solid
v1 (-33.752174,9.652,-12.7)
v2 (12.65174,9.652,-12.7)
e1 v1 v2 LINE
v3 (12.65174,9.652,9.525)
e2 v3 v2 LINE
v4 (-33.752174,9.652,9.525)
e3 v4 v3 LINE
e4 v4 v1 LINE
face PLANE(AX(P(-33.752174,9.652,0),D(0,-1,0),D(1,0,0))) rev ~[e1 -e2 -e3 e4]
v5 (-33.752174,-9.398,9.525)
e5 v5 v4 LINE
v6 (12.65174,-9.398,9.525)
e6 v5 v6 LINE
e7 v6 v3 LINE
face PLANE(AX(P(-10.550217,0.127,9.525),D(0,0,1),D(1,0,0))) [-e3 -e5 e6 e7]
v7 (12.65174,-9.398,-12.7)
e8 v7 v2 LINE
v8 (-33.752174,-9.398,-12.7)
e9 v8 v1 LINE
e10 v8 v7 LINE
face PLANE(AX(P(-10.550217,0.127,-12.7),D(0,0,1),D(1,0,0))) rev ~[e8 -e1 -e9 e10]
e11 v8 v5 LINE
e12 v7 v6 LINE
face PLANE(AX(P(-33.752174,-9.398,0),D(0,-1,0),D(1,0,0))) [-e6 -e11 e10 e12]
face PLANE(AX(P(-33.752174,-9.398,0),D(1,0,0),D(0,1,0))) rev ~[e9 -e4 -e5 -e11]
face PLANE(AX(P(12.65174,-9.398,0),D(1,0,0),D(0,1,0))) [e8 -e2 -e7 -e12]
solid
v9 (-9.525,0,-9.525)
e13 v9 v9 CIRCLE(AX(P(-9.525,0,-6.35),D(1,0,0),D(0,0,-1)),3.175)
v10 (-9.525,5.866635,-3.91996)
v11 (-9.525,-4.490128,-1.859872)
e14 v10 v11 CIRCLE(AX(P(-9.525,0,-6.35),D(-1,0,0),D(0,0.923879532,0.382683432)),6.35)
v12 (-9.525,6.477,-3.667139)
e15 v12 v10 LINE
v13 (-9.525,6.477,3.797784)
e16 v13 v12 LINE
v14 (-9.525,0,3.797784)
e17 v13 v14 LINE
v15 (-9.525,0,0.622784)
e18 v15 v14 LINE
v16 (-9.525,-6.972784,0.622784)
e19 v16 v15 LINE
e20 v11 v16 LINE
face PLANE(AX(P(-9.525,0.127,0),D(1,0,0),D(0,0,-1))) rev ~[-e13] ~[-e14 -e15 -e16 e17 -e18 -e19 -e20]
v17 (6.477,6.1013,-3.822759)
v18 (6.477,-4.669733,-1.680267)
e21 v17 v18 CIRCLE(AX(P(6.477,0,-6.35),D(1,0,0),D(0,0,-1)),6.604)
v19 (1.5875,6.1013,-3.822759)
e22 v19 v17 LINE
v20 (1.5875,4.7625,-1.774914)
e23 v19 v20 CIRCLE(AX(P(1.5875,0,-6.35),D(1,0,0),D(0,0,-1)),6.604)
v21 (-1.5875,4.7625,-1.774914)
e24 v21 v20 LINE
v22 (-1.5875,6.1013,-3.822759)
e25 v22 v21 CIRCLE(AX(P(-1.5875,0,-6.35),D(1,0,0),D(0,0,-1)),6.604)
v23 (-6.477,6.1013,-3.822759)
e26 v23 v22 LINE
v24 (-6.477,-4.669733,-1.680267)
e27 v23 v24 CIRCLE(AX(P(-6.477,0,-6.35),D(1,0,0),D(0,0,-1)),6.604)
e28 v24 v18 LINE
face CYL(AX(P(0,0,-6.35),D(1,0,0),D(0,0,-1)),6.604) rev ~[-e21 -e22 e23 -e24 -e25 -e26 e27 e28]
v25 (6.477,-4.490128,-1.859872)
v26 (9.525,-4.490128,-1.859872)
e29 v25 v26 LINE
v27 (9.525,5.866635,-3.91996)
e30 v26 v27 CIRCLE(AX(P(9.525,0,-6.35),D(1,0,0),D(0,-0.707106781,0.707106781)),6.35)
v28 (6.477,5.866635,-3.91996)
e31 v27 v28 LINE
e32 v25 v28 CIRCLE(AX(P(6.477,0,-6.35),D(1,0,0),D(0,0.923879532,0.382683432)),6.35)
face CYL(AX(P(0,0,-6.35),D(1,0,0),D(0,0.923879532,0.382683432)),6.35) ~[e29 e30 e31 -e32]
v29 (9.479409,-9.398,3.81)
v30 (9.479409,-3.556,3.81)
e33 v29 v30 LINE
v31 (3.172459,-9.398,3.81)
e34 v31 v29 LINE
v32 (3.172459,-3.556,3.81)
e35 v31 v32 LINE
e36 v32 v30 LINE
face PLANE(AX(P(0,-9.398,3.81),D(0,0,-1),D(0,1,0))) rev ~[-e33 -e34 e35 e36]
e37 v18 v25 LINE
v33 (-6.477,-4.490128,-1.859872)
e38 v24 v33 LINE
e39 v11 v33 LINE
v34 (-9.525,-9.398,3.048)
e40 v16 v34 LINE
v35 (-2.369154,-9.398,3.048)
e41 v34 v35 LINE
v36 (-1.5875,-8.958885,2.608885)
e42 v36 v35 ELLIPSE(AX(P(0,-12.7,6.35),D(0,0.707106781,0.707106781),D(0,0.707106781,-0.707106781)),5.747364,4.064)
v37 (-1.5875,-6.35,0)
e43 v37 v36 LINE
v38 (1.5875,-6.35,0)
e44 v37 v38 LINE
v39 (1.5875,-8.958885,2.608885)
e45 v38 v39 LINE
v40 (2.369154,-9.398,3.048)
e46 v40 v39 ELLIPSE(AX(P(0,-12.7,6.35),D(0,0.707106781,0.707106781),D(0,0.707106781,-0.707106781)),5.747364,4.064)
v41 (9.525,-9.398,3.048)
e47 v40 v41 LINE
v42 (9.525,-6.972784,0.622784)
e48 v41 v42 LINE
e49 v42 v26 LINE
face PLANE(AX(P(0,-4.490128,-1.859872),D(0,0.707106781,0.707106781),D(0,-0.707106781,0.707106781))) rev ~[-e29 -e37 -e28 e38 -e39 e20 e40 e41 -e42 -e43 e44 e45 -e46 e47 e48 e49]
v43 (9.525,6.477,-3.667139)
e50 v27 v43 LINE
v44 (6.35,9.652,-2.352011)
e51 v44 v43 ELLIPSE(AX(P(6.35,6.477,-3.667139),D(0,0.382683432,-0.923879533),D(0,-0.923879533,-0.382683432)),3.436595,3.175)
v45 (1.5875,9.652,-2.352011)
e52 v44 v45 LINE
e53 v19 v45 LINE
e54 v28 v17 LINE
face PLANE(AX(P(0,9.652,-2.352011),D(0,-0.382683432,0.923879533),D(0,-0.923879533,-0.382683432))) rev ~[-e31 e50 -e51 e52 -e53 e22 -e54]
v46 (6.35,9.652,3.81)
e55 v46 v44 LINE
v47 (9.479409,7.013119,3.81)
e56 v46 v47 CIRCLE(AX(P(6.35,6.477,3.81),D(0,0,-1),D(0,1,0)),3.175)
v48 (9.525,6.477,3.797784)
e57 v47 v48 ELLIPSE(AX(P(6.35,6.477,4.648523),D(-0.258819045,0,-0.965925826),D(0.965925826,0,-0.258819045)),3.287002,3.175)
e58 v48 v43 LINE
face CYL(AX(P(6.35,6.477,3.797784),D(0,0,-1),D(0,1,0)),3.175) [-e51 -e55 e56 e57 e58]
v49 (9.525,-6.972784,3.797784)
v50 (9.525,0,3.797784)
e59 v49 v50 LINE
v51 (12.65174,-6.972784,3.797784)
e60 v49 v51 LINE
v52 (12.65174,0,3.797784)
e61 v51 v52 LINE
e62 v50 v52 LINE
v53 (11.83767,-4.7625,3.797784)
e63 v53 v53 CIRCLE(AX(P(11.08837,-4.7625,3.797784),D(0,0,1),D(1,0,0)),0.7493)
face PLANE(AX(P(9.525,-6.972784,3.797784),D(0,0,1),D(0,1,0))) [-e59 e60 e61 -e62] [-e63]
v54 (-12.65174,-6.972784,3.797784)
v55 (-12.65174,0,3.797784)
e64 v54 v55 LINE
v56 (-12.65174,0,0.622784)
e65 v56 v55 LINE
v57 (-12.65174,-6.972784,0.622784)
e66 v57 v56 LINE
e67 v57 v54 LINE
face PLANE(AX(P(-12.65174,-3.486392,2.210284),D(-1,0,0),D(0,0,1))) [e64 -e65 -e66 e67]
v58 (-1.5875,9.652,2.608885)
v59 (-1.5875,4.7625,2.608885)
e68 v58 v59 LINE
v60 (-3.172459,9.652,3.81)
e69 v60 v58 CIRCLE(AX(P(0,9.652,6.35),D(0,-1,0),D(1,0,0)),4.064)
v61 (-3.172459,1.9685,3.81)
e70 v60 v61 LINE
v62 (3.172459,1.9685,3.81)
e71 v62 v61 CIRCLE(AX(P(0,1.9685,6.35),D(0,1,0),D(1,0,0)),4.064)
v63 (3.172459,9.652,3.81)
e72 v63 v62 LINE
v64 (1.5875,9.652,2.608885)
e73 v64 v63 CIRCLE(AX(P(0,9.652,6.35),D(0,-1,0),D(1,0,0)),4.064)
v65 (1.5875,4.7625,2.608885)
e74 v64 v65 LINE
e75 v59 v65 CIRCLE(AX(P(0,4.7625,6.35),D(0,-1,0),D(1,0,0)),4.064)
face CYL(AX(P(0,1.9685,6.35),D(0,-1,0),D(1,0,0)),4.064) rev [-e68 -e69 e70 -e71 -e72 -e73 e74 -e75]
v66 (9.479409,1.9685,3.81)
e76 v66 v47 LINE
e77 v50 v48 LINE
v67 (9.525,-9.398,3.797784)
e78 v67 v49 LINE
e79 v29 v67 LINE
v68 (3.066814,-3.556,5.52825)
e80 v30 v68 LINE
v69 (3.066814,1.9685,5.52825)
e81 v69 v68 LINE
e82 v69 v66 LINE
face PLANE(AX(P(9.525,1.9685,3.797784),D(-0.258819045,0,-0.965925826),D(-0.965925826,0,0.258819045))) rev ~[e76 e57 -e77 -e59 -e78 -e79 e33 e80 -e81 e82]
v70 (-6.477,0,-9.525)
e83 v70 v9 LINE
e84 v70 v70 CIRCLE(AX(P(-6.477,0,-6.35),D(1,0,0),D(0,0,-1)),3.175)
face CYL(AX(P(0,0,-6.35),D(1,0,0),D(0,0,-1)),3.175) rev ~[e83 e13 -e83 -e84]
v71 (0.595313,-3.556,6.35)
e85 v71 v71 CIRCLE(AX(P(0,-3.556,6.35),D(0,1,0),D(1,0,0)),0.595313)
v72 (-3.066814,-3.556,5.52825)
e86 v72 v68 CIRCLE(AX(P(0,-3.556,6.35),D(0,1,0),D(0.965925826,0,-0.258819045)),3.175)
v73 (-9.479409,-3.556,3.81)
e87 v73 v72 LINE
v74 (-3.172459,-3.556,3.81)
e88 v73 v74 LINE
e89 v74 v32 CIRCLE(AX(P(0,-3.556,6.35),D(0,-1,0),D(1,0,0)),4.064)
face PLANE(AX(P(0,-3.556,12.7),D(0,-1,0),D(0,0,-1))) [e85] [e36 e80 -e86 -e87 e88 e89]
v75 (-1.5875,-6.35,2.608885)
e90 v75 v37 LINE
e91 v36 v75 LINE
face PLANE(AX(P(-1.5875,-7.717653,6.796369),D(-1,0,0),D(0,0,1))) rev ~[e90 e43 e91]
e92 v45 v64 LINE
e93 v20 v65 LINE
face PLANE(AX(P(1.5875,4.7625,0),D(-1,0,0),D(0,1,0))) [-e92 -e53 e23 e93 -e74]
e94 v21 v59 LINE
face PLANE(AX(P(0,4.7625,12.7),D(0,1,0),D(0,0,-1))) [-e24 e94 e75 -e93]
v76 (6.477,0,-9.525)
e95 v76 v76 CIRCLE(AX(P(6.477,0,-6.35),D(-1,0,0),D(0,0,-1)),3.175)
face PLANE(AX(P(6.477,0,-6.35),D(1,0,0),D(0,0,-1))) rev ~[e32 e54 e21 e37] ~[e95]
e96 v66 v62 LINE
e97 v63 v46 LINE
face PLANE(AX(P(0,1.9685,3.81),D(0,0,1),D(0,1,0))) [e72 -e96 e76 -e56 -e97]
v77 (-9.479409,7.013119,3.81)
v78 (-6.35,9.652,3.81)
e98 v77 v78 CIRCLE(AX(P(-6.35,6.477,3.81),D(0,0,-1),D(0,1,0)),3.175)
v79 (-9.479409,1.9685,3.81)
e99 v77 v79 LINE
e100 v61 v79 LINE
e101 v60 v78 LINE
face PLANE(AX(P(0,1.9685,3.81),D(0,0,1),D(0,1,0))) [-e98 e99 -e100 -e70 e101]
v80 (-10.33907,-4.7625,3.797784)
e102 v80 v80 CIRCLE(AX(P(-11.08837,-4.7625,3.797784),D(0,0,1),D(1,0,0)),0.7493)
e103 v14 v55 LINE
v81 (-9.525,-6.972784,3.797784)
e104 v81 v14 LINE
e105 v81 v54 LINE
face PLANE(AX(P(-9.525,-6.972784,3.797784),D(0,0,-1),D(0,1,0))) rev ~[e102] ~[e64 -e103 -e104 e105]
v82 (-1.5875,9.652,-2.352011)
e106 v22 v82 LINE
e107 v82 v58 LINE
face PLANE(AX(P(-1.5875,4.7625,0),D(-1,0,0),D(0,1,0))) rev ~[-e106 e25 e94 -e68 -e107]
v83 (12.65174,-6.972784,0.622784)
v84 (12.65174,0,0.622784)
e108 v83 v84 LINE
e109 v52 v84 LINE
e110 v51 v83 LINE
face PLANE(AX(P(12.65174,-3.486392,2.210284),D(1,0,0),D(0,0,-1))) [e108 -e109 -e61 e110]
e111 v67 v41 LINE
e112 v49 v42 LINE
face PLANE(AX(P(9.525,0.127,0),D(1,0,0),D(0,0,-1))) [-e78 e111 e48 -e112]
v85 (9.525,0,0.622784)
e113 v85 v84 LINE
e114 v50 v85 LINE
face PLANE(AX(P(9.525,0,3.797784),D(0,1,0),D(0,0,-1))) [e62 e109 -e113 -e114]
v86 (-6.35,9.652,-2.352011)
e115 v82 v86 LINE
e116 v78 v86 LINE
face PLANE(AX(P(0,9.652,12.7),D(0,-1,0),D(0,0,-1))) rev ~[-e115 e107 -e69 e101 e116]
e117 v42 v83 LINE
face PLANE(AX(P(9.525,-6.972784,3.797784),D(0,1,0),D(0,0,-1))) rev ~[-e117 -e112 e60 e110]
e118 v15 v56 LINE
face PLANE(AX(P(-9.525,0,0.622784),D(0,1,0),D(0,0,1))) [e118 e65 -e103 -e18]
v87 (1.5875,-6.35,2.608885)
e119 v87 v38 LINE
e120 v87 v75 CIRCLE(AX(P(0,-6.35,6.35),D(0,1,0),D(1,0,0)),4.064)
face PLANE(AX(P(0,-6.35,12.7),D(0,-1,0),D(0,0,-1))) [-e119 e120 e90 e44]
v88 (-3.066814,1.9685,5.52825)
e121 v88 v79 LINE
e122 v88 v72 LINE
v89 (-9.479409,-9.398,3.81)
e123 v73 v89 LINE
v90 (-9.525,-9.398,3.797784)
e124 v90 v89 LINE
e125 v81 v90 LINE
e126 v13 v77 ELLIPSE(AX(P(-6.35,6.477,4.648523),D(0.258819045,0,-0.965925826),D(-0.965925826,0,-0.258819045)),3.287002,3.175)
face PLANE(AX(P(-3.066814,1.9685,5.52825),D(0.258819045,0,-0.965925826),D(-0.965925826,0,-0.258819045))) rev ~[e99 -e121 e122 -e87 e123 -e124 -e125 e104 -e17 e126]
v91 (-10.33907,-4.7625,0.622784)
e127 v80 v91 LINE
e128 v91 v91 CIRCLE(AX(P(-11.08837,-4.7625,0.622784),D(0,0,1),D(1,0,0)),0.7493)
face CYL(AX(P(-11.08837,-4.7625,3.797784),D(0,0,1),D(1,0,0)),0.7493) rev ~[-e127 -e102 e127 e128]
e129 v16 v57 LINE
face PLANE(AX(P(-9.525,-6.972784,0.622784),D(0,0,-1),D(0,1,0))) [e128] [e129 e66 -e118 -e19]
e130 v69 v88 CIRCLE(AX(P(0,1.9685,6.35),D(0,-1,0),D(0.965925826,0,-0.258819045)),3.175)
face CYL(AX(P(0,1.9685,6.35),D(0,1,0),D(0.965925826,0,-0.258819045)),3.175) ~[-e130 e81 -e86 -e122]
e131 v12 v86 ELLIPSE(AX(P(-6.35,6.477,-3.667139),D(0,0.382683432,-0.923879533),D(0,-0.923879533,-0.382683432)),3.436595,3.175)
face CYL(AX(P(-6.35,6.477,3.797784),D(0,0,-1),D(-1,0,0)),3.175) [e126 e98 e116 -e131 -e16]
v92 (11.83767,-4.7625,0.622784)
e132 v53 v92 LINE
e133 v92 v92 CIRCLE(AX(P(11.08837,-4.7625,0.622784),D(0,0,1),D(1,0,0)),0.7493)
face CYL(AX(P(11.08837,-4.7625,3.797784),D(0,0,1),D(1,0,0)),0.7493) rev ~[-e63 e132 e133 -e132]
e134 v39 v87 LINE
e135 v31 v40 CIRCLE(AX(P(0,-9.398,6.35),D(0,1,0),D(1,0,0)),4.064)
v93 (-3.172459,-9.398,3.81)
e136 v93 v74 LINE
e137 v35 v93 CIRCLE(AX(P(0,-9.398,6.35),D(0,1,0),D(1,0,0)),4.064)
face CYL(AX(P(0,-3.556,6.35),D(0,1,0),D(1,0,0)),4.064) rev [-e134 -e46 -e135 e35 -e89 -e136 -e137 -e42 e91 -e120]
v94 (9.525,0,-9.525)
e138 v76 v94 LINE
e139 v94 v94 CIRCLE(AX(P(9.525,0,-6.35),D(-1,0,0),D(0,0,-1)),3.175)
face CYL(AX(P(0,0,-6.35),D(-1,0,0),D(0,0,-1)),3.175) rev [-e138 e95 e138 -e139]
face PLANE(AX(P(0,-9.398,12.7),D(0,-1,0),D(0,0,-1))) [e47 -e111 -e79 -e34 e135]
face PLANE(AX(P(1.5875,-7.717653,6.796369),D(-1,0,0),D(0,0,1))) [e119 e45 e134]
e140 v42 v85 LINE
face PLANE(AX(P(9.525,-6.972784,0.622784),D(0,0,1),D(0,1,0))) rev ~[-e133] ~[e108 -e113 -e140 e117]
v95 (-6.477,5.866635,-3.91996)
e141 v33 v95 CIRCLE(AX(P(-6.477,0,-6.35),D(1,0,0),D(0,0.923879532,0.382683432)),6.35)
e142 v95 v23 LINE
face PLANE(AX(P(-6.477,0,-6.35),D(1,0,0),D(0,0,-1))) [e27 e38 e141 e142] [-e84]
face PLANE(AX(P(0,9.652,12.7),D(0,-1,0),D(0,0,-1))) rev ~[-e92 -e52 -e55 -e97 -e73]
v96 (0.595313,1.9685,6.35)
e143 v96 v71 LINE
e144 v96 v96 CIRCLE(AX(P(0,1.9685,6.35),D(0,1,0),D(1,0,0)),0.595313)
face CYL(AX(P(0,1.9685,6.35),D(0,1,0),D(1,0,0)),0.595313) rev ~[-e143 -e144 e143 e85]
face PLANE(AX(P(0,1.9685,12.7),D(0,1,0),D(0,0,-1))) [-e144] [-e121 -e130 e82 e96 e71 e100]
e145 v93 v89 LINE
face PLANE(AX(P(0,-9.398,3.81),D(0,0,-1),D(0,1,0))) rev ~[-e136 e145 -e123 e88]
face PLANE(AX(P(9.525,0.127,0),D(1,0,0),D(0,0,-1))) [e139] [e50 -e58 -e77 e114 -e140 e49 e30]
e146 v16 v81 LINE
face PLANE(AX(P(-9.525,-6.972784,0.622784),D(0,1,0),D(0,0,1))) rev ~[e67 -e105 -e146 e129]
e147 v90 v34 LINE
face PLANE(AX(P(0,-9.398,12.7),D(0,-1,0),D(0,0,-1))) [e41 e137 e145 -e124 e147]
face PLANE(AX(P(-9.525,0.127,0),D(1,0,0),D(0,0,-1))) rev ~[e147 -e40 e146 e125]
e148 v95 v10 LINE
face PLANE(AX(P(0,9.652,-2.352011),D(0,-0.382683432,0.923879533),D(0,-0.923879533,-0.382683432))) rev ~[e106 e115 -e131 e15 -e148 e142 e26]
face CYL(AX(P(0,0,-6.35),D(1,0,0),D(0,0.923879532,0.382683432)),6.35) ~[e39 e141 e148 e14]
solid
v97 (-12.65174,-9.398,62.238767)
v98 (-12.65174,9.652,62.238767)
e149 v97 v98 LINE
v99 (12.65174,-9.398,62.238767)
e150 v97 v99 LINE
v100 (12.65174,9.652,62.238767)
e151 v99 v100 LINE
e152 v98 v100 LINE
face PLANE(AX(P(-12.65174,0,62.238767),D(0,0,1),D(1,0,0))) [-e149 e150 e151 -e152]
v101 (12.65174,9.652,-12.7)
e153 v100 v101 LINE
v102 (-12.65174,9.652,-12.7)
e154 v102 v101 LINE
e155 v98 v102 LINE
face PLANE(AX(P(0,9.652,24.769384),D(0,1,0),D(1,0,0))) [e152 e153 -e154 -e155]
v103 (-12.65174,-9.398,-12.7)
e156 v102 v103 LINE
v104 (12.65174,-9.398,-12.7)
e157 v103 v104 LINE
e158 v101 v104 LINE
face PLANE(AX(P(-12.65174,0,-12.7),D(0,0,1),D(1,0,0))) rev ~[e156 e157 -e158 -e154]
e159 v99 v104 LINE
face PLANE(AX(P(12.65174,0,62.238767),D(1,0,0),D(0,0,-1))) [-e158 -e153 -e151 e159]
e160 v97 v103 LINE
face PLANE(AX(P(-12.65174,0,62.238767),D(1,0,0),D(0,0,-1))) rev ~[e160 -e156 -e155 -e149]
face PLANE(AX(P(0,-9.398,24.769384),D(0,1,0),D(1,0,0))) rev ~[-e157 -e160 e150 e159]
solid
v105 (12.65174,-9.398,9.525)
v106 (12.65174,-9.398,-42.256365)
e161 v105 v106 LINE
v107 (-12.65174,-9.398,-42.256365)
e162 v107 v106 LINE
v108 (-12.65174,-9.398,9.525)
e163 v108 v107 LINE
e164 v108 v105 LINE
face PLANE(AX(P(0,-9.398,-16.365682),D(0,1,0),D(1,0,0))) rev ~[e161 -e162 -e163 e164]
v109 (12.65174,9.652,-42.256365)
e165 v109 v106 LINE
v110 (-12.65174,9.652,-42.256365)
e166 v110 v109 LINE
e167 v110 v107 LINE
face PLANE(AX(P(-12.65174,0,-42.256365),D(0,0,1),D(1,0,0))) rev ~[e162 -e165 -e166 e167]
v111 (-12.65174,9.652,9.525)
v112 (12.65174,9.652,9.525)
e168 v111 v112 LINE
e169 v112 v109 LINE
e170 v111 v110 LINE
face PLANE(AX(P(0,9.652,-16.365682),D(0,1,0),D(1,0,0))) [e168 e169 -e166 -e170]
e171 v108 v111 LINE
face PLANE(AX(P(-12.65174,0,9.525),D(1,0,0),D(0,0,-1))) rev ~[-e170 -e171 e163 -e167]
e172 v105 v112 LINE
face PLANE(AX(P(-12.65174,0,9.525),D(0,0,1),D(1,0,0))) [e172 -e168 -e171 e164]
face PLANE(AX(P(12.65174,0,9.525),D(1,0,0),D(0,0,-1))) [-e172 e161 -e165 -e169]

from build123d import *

# Parameters (mm, degrees)
SKETCH1_W                = 25.4
SKETCH1_H                = 19.05
BOSS_EXTRUDE1_DEPTH      = 9.525
SKETCH2_OUTSIDE_W        = 34.806
SKETCH2_OUTSIDE_H        = 28.456
CUT_EXTRUDE2_DEPTH       = 10.525
CUT_EXTRUDE2_DEPTH_BACK  = 10.525
SKETCH3_R                = 6.604
CUT_EXTRUDE3_DEPTH       = 6.477
SKETCH5_R                = 3.175
CUT_EXTRUDE5_DEPTH       = 10.525
CUT_EXTRUDE5_DEPTH_BACK  = 10.525
SKETCH4_W                = 3.175
SKETCH4_H                = 4.8895
CUT_EXTRUDE4_DEPTH       = 13.7
CUT_EXTRUDE4_DEPTH_BACK  = 13.7
CUT_EXTRUDE6_DEPTH       = 1.5875
SKETCH7_W                = 8.89
SKETCH7_H                = 4.8895
CUT_EXTRUDE7_DEPTH       = 10.525
CUT_EXTRUDE7_DEPTH_BACK  = 10.525
SKETCH8_W                = 8.89
SKETCH8_H                = 2.794
SKETCH8_H_2              = 5.842
CUT_EXTRUDE8_DEPTH       = 10.525
CUT_EXTRUDE8_DEPTH_BACK  = 10.525
CUT_EXTRUDE9_DEPTH       = 8.6835
CUT_EXTRUDE9_DEPTH_BACK  = 12.3665
SKETCH11_R               = 0.5953125
CUT_EXTRUDE11_DEPTH      = 12.3665
FILLET1_R                = 3.175
SKETCH15_R               = 4.064
CUT_EXTRUDE12_DEPTH      = 6.842
SKETCH22_R               = 4.064
CUT_EXTRUDE15_DEPTH      = 8.6835
SKETCH16_W               = 3.175
SKETCH16_H               = 6.972783942
BOSS_EXTRUDE4_DEPTH      = 3.12674
SKETCH18_W               = 3.175
SKETCH18_H               = 6.972783942
BOSS_EXTRUDE5_DEPTH      = 3.12674
SKETCH19_R               = 0.7493
CUT_EXTRUDE13_DEPTH      = 17.497783942
SKETCH20_R               = 0.7493
CUT_EXTRUDE14_DEPTH      = 17.497783942
SKETCH26_W               = 46.403914144
SKETCH26_H               = 19.05
BOSS_EXTRUDE8_DEPTH      = 9.525
BOSS_EXTRUDE8_DEPTH_BACK = 12.7
SKETCH23_W               = 25.30348
SKETCH23_H               = 74.938767094
BOSS_EXTRUDE6_DEPTH      = 9.652
BOSS_EXTRUDE6_DEPTH_BACK = 9.398
SKETCH24_W               = 25.30348
SKETCH24_H               = 51.781364698
BOSS_EXTRUDE7_DEPTH      = 9.652
BOSS_EXTRUDE7_DEPTH_BACK = 9.398


with BuildPart() as part:
    # Sketch1 → Boss-Extrude1 (new body, symmetric)
    with BuildSketch(Plane(origin=(0, 0, 0), x_dir=(0, 0, -1), z_dir=(1, 0, 0))):
        with Locations((0, 0.127)):
            Rectangle(SKETCH1_W, SKETCH1_H)
    extrude(amount=BOSS_EXTRUDE1_DEPTH, both=True)

    # Sketch2 outside → Cut-Extrude2 (cut, two sides)
    with BuildSketch(Plane(origin=(0, 0, 0), x_dir=(0, 0, -1), z_dir=(1, 0, 0))) as cut_extrude2_sk:
        with Locations((0, 0.127)):
            Rectangle(SKETCH2_OUTSIDE_W, SKETCH2_OUTSIDE_H)
        with BuildLine():
            Line((1.859871939, -4.490128061), (-3.048, -9.398))
            Line((-3.048, -9.398), (-12.7, -9.398))
            Line((-12.7, -9.398), (-12.7, 9.652))
            Line((-12.7, 9.652), (2.352010696, 9.652))
            Line((2.352010696, 9.652), (3.919960204, 5.866635031))
            ThreePointArc((3.919960204, 5.866635031), (12.577986531, -1.238823545), (1.859871939, -4.490128061))
        make_face(mode=Mode.SUBTRACT)
    extrude(amount=CUT_EXTRUDE2_DEPTH, mode=Mode.SUBTRACT)
    extrude(cut_extrude2_sk.sketch, amount=-CUT_EXTRUDE2_DEPTH_BACK, mode=Mode.SUBTRACT)

    # Sketch3 → Cut-Extrude3 (cut, symmetric)
    with BuildSketch(Plane(origin=(0, 0, 0), x_dir=(0, 0, -1), z_dir=(1, 0, 0))):
        with Locations((6.35, 0)):
            Circle(SKETCH3_R)
    extrude(amount=CUT_EXTRUDE3_DEPTH, both=True, mode=Mode.SUBTRACT)

    # Sketch5 → Cut-Extrude5 (cut, two sides)
    with BuildSketch(Plane(origin=(0, 0, 0), x_dir=(0, 0, -1), z_dir=(1, 0, 0))) as cut_extrude5_sk:
        with Locations((6.35, 0)):
            Circle(SKETCH5_R)
    extrude(amount=CUT_EXTRUDE5_DEPTH, mode=Mode.SUBTRACT)
    extrude(cut_extrude5_sk.sketch, amount=-CUT_EXTRUDE5_DEPTH_BACK, mode=Mode.SUBTRACT)

    # Sketch4 → Cut-Extrude4 (cut, two sides)
    with BuildSketch(Plane.XY) as cut_extrude4_sk:
        with Locations((0, 7.20725)):
            Rectangle(SKETCH4_W, SKETCH4_H)
    extrude(amount=CUT_EXTRUDE4_DEPTH, mode=Mode.SUBTRACT)
    extrude(cut_extrude4_sk.sketch, amount=-CUT_EXTRUDE4_DEPTH_BACK, mode=Mode.SUBTRACT)

    # Sketch6 → Cut-Extrude6 (cut, symmetric)
    with BuildSketch(Plane(origin=(0, 0, 0), x_dir=(0, 0, -1), z_dir=(1, 0, 0))):
        Polygon((0, -6.35), (-3.048, -9.398), (-12.7, -9.398), (-12.7, -6.35), align=None)
    extrude(amount=CUT_EXTRUDE6_DEPTH, both=True, mode=Mode.SUBTRACT)

    # Sketch7 → Cut-Extrude7 (cut, two sides)
    with BuildSketch(Plane(origin=(0, 0, 0), x_dir=(0, 0, -1), z_dir=(1, 0, 0))) as cut_extrude7_sk:
        with Locations((-8.255, 7.20725)):
            Rectangle(SKETCH7_W, SKETCH7_H)
    extrude(amount=CUT_EXTRUDE7_DEPTH, mode=Mode.SUBTRACT)
    extrude(cut_extrude7_sk.sketch, amount=-CUT_EXTRUDE7_DEPTH_BACK, mode=Mode.SUBTRACT)

    # Sketch8 → Cut-Extrude8 (cut, two sides)
    with BuildSketch(Plane(origin=(0, 0, 0), x_dir=(0, 0, -1), z_dir=(1, 0, 0))) as cut_extrude8_sk:
        with Locations((-8.255, 3.3655)):
            Rectangle(SKETCH8_W, SKETCH8_H)
        with Locations((-8.255, -6.477)):
            Rectangle(SKETCH8_W, SKETCH8_H_2)
    extrude(amount=CUT_EXTRUDE8_DEPTH, mode=Mode.SUBTRACT)
    extrude(cut_extrude8_sk.sketch, amount=-CUT_EXTRUDE8_DEPTH_BACK, mode=Mode.SUBTRACT)

    # Sketch9 → Cut-Extrude9 (cut, two sides)
    with BuildSketch(Plane(origin=(0, 1.9685, 0), x_dir=(1, 0, 0), z_dir=(0, 1, 0))) as cut_extrude9_sk:
        with BuildLine():
            Line((-3.066814498, -5.528249532), (-9.525, -3.797783942))
            Line((-9.525, -3.797783942), (-9.525, -12.7))
            Line((-9.525, -12.7), (9.525, -12.7))
            Line((9.525, -12.7), (9.525, -3.797783942))
            Line((9.525, -3.797783942), (3.066814498, -5.528249532))
            ThreePointArc((3.066814498, -5.528249532), (0, -9.525), (-3.066814498, -5.528249532))
        make_face()
    extrude(amount=CUT_EXTRUDE9_DEPTH, mode=Mode.SUBTRACT)
    extrude(cut_extrude9_sk.sketch, amount=-CUT_EXTRUDE9_DEPTH_BACK, mode=Mode.SUBTRACT)

    # Sketch11 → Cut-Extrude11 (cut, through all)
    with BuildSketch(Plane(origin=(0, 1.9685, 0), x_dir=(1, 0, 0), z_dir=(0, 1, 0))):
        with Locations((0, -6.35)):
            Circle(SKETCH11_R)
    extrude(amount=-CUT_EXTRUDE11_DEPTH, mode=Mode.SUBTRACT)

    # Fillet1
    fillet1_edges = [part.edges().sort_by_distance(p)[0] for p in [
        (9.525, 9.652, 0.722886623),
        (-9.525, 9.652, 0.722886623),
    ]]
    fillet(fillet1_edges, radius=FILLET1_R)

    # Sketch15 → Cut-Extrude12 (cut, through all)
    with BuildSketch(Plane.XZ.offset(3.556)):
        with Locations((0, 6.35)):
            Circle(SKETCH15_R)
    extrude(amount=CUT_EXTRUDE12_DEPTH, mode=Mode.SUBTRACT)

    # Sketch22 → Cut-Extrude15 (cut, through all)
    with BuildSketch(Plane(origin=(0, 1.9685, 0), x_dir=(1, 0, 0), z_dir=(0, 1, 0))):
        with Locations((0, -6.35)):
            Circle(SKETCH22_R)
    extrude(amount=CUT_EXTRUDE15_DEPTH, mode=Mode.SUBTRACT)

    # Sketch16 → Boss-Extrude4 (add)
    with BuildSketch(Plane(origin=(9.525, 0, 0), x_dir=(0, 0, -1), z_dir=(1, 0, 0))):
        with Locations((-2.210283942, -3.486391971)):
            Rectangle(SKETCH16_W, SKETCH16_H)
    extrude(amount=BOSS_EXTRUDE4_DEPTH)

    # Sketch18 → Boss-Extrude5 (add)
    with BuildSketch(Plane.ZY.offset(9.525)):
        with Locations((2.210283942, -3.486391971)):
            Rectangle(SKETCH18_W, SKETCH18_H)
    extrude(amount=BOSS_EXTRUDE5_DEPTH)

    # Sketch19 → Cut-Extrude13 (cut, through all)
    with BuildSketch(Plane.XY.offset(3.797783942)):
        with Locations((11.08837, -4.7625)):
            Circle(SKETCH19_R)
    extrude(amount=-CUT_EXTRUDE13_DEPTH, mode=Mode.SUBTRACT)

    # Sketch20 → Cut-Extrude14 (cut, through all)
    with BuildSketch(Plane.XY.offset(3.797783942)):
        with Locations((-11.08837, -4.7625)):
            Circle(SKETCH20_R)
    extrude(amount=-CUT_EXTRUDE14_DEPTH, mode=Mode.SUBTRACT)


with BuildPart() as body_2:
    # Sketch26 → Boss-Extrude8 (new body, two sides)
    with BuildSketch(Plane.XY) as boss_extrude8_sk:
        with Locations((-10.550217072, 0.127)):
            Rectangle(SKETCH26_W, SKETCH26_H)
    extrude(amount=BOSS_EXTRUDE8_DEPTH)
    extrude(boss_extrude8_sk.sketch, amount=-BOSS_EXTRUDE8_DEPTH_BACK)


with BuildPart() as body_3:
    # Sketch23 → Boss-Extrude6 (new body, two sides)
    with BuildSketch(Plane(origin=(0, 0, 0), x_dir=(1, 0, 0), z_dir=(0, 1, 0))) as boss_extrude6_sk:
        with Locations((0, -24.769383547)):
            Rectangle(SKETCH23_W, SKETCH23_H)
    extrude(amount=BOSS_EXTRUDE6_DEPTH)
    extrude(boss_extrude6_sk.sketch, amount=-BOSS_EXTRUDE6_DEPTH_BACK)


with BuildPart() as body_4:
    # Sketch24 → Boss-Extrude7 (new body, two sides)
    with BuildSketch(Plane(origin=(0, 0, 0), x_dir=(1, 0, 0), z_dir=(0, 1, 0))) as boss_extrude7_sk:
        with Locations((0, 16.365682349)):
            Rectangle(SKETCH24_W, SKETCH24_H)
    extrude(amount=BOSS_EXTRUDE7_DEPTH)
    extrude(boss_extrude7_sk.sketch, amount=-BOSS_EXTRUDE7_DEPTH_BACK)


solid = Compound([part.part, body_2.part, body_3.part, body_4.part])
